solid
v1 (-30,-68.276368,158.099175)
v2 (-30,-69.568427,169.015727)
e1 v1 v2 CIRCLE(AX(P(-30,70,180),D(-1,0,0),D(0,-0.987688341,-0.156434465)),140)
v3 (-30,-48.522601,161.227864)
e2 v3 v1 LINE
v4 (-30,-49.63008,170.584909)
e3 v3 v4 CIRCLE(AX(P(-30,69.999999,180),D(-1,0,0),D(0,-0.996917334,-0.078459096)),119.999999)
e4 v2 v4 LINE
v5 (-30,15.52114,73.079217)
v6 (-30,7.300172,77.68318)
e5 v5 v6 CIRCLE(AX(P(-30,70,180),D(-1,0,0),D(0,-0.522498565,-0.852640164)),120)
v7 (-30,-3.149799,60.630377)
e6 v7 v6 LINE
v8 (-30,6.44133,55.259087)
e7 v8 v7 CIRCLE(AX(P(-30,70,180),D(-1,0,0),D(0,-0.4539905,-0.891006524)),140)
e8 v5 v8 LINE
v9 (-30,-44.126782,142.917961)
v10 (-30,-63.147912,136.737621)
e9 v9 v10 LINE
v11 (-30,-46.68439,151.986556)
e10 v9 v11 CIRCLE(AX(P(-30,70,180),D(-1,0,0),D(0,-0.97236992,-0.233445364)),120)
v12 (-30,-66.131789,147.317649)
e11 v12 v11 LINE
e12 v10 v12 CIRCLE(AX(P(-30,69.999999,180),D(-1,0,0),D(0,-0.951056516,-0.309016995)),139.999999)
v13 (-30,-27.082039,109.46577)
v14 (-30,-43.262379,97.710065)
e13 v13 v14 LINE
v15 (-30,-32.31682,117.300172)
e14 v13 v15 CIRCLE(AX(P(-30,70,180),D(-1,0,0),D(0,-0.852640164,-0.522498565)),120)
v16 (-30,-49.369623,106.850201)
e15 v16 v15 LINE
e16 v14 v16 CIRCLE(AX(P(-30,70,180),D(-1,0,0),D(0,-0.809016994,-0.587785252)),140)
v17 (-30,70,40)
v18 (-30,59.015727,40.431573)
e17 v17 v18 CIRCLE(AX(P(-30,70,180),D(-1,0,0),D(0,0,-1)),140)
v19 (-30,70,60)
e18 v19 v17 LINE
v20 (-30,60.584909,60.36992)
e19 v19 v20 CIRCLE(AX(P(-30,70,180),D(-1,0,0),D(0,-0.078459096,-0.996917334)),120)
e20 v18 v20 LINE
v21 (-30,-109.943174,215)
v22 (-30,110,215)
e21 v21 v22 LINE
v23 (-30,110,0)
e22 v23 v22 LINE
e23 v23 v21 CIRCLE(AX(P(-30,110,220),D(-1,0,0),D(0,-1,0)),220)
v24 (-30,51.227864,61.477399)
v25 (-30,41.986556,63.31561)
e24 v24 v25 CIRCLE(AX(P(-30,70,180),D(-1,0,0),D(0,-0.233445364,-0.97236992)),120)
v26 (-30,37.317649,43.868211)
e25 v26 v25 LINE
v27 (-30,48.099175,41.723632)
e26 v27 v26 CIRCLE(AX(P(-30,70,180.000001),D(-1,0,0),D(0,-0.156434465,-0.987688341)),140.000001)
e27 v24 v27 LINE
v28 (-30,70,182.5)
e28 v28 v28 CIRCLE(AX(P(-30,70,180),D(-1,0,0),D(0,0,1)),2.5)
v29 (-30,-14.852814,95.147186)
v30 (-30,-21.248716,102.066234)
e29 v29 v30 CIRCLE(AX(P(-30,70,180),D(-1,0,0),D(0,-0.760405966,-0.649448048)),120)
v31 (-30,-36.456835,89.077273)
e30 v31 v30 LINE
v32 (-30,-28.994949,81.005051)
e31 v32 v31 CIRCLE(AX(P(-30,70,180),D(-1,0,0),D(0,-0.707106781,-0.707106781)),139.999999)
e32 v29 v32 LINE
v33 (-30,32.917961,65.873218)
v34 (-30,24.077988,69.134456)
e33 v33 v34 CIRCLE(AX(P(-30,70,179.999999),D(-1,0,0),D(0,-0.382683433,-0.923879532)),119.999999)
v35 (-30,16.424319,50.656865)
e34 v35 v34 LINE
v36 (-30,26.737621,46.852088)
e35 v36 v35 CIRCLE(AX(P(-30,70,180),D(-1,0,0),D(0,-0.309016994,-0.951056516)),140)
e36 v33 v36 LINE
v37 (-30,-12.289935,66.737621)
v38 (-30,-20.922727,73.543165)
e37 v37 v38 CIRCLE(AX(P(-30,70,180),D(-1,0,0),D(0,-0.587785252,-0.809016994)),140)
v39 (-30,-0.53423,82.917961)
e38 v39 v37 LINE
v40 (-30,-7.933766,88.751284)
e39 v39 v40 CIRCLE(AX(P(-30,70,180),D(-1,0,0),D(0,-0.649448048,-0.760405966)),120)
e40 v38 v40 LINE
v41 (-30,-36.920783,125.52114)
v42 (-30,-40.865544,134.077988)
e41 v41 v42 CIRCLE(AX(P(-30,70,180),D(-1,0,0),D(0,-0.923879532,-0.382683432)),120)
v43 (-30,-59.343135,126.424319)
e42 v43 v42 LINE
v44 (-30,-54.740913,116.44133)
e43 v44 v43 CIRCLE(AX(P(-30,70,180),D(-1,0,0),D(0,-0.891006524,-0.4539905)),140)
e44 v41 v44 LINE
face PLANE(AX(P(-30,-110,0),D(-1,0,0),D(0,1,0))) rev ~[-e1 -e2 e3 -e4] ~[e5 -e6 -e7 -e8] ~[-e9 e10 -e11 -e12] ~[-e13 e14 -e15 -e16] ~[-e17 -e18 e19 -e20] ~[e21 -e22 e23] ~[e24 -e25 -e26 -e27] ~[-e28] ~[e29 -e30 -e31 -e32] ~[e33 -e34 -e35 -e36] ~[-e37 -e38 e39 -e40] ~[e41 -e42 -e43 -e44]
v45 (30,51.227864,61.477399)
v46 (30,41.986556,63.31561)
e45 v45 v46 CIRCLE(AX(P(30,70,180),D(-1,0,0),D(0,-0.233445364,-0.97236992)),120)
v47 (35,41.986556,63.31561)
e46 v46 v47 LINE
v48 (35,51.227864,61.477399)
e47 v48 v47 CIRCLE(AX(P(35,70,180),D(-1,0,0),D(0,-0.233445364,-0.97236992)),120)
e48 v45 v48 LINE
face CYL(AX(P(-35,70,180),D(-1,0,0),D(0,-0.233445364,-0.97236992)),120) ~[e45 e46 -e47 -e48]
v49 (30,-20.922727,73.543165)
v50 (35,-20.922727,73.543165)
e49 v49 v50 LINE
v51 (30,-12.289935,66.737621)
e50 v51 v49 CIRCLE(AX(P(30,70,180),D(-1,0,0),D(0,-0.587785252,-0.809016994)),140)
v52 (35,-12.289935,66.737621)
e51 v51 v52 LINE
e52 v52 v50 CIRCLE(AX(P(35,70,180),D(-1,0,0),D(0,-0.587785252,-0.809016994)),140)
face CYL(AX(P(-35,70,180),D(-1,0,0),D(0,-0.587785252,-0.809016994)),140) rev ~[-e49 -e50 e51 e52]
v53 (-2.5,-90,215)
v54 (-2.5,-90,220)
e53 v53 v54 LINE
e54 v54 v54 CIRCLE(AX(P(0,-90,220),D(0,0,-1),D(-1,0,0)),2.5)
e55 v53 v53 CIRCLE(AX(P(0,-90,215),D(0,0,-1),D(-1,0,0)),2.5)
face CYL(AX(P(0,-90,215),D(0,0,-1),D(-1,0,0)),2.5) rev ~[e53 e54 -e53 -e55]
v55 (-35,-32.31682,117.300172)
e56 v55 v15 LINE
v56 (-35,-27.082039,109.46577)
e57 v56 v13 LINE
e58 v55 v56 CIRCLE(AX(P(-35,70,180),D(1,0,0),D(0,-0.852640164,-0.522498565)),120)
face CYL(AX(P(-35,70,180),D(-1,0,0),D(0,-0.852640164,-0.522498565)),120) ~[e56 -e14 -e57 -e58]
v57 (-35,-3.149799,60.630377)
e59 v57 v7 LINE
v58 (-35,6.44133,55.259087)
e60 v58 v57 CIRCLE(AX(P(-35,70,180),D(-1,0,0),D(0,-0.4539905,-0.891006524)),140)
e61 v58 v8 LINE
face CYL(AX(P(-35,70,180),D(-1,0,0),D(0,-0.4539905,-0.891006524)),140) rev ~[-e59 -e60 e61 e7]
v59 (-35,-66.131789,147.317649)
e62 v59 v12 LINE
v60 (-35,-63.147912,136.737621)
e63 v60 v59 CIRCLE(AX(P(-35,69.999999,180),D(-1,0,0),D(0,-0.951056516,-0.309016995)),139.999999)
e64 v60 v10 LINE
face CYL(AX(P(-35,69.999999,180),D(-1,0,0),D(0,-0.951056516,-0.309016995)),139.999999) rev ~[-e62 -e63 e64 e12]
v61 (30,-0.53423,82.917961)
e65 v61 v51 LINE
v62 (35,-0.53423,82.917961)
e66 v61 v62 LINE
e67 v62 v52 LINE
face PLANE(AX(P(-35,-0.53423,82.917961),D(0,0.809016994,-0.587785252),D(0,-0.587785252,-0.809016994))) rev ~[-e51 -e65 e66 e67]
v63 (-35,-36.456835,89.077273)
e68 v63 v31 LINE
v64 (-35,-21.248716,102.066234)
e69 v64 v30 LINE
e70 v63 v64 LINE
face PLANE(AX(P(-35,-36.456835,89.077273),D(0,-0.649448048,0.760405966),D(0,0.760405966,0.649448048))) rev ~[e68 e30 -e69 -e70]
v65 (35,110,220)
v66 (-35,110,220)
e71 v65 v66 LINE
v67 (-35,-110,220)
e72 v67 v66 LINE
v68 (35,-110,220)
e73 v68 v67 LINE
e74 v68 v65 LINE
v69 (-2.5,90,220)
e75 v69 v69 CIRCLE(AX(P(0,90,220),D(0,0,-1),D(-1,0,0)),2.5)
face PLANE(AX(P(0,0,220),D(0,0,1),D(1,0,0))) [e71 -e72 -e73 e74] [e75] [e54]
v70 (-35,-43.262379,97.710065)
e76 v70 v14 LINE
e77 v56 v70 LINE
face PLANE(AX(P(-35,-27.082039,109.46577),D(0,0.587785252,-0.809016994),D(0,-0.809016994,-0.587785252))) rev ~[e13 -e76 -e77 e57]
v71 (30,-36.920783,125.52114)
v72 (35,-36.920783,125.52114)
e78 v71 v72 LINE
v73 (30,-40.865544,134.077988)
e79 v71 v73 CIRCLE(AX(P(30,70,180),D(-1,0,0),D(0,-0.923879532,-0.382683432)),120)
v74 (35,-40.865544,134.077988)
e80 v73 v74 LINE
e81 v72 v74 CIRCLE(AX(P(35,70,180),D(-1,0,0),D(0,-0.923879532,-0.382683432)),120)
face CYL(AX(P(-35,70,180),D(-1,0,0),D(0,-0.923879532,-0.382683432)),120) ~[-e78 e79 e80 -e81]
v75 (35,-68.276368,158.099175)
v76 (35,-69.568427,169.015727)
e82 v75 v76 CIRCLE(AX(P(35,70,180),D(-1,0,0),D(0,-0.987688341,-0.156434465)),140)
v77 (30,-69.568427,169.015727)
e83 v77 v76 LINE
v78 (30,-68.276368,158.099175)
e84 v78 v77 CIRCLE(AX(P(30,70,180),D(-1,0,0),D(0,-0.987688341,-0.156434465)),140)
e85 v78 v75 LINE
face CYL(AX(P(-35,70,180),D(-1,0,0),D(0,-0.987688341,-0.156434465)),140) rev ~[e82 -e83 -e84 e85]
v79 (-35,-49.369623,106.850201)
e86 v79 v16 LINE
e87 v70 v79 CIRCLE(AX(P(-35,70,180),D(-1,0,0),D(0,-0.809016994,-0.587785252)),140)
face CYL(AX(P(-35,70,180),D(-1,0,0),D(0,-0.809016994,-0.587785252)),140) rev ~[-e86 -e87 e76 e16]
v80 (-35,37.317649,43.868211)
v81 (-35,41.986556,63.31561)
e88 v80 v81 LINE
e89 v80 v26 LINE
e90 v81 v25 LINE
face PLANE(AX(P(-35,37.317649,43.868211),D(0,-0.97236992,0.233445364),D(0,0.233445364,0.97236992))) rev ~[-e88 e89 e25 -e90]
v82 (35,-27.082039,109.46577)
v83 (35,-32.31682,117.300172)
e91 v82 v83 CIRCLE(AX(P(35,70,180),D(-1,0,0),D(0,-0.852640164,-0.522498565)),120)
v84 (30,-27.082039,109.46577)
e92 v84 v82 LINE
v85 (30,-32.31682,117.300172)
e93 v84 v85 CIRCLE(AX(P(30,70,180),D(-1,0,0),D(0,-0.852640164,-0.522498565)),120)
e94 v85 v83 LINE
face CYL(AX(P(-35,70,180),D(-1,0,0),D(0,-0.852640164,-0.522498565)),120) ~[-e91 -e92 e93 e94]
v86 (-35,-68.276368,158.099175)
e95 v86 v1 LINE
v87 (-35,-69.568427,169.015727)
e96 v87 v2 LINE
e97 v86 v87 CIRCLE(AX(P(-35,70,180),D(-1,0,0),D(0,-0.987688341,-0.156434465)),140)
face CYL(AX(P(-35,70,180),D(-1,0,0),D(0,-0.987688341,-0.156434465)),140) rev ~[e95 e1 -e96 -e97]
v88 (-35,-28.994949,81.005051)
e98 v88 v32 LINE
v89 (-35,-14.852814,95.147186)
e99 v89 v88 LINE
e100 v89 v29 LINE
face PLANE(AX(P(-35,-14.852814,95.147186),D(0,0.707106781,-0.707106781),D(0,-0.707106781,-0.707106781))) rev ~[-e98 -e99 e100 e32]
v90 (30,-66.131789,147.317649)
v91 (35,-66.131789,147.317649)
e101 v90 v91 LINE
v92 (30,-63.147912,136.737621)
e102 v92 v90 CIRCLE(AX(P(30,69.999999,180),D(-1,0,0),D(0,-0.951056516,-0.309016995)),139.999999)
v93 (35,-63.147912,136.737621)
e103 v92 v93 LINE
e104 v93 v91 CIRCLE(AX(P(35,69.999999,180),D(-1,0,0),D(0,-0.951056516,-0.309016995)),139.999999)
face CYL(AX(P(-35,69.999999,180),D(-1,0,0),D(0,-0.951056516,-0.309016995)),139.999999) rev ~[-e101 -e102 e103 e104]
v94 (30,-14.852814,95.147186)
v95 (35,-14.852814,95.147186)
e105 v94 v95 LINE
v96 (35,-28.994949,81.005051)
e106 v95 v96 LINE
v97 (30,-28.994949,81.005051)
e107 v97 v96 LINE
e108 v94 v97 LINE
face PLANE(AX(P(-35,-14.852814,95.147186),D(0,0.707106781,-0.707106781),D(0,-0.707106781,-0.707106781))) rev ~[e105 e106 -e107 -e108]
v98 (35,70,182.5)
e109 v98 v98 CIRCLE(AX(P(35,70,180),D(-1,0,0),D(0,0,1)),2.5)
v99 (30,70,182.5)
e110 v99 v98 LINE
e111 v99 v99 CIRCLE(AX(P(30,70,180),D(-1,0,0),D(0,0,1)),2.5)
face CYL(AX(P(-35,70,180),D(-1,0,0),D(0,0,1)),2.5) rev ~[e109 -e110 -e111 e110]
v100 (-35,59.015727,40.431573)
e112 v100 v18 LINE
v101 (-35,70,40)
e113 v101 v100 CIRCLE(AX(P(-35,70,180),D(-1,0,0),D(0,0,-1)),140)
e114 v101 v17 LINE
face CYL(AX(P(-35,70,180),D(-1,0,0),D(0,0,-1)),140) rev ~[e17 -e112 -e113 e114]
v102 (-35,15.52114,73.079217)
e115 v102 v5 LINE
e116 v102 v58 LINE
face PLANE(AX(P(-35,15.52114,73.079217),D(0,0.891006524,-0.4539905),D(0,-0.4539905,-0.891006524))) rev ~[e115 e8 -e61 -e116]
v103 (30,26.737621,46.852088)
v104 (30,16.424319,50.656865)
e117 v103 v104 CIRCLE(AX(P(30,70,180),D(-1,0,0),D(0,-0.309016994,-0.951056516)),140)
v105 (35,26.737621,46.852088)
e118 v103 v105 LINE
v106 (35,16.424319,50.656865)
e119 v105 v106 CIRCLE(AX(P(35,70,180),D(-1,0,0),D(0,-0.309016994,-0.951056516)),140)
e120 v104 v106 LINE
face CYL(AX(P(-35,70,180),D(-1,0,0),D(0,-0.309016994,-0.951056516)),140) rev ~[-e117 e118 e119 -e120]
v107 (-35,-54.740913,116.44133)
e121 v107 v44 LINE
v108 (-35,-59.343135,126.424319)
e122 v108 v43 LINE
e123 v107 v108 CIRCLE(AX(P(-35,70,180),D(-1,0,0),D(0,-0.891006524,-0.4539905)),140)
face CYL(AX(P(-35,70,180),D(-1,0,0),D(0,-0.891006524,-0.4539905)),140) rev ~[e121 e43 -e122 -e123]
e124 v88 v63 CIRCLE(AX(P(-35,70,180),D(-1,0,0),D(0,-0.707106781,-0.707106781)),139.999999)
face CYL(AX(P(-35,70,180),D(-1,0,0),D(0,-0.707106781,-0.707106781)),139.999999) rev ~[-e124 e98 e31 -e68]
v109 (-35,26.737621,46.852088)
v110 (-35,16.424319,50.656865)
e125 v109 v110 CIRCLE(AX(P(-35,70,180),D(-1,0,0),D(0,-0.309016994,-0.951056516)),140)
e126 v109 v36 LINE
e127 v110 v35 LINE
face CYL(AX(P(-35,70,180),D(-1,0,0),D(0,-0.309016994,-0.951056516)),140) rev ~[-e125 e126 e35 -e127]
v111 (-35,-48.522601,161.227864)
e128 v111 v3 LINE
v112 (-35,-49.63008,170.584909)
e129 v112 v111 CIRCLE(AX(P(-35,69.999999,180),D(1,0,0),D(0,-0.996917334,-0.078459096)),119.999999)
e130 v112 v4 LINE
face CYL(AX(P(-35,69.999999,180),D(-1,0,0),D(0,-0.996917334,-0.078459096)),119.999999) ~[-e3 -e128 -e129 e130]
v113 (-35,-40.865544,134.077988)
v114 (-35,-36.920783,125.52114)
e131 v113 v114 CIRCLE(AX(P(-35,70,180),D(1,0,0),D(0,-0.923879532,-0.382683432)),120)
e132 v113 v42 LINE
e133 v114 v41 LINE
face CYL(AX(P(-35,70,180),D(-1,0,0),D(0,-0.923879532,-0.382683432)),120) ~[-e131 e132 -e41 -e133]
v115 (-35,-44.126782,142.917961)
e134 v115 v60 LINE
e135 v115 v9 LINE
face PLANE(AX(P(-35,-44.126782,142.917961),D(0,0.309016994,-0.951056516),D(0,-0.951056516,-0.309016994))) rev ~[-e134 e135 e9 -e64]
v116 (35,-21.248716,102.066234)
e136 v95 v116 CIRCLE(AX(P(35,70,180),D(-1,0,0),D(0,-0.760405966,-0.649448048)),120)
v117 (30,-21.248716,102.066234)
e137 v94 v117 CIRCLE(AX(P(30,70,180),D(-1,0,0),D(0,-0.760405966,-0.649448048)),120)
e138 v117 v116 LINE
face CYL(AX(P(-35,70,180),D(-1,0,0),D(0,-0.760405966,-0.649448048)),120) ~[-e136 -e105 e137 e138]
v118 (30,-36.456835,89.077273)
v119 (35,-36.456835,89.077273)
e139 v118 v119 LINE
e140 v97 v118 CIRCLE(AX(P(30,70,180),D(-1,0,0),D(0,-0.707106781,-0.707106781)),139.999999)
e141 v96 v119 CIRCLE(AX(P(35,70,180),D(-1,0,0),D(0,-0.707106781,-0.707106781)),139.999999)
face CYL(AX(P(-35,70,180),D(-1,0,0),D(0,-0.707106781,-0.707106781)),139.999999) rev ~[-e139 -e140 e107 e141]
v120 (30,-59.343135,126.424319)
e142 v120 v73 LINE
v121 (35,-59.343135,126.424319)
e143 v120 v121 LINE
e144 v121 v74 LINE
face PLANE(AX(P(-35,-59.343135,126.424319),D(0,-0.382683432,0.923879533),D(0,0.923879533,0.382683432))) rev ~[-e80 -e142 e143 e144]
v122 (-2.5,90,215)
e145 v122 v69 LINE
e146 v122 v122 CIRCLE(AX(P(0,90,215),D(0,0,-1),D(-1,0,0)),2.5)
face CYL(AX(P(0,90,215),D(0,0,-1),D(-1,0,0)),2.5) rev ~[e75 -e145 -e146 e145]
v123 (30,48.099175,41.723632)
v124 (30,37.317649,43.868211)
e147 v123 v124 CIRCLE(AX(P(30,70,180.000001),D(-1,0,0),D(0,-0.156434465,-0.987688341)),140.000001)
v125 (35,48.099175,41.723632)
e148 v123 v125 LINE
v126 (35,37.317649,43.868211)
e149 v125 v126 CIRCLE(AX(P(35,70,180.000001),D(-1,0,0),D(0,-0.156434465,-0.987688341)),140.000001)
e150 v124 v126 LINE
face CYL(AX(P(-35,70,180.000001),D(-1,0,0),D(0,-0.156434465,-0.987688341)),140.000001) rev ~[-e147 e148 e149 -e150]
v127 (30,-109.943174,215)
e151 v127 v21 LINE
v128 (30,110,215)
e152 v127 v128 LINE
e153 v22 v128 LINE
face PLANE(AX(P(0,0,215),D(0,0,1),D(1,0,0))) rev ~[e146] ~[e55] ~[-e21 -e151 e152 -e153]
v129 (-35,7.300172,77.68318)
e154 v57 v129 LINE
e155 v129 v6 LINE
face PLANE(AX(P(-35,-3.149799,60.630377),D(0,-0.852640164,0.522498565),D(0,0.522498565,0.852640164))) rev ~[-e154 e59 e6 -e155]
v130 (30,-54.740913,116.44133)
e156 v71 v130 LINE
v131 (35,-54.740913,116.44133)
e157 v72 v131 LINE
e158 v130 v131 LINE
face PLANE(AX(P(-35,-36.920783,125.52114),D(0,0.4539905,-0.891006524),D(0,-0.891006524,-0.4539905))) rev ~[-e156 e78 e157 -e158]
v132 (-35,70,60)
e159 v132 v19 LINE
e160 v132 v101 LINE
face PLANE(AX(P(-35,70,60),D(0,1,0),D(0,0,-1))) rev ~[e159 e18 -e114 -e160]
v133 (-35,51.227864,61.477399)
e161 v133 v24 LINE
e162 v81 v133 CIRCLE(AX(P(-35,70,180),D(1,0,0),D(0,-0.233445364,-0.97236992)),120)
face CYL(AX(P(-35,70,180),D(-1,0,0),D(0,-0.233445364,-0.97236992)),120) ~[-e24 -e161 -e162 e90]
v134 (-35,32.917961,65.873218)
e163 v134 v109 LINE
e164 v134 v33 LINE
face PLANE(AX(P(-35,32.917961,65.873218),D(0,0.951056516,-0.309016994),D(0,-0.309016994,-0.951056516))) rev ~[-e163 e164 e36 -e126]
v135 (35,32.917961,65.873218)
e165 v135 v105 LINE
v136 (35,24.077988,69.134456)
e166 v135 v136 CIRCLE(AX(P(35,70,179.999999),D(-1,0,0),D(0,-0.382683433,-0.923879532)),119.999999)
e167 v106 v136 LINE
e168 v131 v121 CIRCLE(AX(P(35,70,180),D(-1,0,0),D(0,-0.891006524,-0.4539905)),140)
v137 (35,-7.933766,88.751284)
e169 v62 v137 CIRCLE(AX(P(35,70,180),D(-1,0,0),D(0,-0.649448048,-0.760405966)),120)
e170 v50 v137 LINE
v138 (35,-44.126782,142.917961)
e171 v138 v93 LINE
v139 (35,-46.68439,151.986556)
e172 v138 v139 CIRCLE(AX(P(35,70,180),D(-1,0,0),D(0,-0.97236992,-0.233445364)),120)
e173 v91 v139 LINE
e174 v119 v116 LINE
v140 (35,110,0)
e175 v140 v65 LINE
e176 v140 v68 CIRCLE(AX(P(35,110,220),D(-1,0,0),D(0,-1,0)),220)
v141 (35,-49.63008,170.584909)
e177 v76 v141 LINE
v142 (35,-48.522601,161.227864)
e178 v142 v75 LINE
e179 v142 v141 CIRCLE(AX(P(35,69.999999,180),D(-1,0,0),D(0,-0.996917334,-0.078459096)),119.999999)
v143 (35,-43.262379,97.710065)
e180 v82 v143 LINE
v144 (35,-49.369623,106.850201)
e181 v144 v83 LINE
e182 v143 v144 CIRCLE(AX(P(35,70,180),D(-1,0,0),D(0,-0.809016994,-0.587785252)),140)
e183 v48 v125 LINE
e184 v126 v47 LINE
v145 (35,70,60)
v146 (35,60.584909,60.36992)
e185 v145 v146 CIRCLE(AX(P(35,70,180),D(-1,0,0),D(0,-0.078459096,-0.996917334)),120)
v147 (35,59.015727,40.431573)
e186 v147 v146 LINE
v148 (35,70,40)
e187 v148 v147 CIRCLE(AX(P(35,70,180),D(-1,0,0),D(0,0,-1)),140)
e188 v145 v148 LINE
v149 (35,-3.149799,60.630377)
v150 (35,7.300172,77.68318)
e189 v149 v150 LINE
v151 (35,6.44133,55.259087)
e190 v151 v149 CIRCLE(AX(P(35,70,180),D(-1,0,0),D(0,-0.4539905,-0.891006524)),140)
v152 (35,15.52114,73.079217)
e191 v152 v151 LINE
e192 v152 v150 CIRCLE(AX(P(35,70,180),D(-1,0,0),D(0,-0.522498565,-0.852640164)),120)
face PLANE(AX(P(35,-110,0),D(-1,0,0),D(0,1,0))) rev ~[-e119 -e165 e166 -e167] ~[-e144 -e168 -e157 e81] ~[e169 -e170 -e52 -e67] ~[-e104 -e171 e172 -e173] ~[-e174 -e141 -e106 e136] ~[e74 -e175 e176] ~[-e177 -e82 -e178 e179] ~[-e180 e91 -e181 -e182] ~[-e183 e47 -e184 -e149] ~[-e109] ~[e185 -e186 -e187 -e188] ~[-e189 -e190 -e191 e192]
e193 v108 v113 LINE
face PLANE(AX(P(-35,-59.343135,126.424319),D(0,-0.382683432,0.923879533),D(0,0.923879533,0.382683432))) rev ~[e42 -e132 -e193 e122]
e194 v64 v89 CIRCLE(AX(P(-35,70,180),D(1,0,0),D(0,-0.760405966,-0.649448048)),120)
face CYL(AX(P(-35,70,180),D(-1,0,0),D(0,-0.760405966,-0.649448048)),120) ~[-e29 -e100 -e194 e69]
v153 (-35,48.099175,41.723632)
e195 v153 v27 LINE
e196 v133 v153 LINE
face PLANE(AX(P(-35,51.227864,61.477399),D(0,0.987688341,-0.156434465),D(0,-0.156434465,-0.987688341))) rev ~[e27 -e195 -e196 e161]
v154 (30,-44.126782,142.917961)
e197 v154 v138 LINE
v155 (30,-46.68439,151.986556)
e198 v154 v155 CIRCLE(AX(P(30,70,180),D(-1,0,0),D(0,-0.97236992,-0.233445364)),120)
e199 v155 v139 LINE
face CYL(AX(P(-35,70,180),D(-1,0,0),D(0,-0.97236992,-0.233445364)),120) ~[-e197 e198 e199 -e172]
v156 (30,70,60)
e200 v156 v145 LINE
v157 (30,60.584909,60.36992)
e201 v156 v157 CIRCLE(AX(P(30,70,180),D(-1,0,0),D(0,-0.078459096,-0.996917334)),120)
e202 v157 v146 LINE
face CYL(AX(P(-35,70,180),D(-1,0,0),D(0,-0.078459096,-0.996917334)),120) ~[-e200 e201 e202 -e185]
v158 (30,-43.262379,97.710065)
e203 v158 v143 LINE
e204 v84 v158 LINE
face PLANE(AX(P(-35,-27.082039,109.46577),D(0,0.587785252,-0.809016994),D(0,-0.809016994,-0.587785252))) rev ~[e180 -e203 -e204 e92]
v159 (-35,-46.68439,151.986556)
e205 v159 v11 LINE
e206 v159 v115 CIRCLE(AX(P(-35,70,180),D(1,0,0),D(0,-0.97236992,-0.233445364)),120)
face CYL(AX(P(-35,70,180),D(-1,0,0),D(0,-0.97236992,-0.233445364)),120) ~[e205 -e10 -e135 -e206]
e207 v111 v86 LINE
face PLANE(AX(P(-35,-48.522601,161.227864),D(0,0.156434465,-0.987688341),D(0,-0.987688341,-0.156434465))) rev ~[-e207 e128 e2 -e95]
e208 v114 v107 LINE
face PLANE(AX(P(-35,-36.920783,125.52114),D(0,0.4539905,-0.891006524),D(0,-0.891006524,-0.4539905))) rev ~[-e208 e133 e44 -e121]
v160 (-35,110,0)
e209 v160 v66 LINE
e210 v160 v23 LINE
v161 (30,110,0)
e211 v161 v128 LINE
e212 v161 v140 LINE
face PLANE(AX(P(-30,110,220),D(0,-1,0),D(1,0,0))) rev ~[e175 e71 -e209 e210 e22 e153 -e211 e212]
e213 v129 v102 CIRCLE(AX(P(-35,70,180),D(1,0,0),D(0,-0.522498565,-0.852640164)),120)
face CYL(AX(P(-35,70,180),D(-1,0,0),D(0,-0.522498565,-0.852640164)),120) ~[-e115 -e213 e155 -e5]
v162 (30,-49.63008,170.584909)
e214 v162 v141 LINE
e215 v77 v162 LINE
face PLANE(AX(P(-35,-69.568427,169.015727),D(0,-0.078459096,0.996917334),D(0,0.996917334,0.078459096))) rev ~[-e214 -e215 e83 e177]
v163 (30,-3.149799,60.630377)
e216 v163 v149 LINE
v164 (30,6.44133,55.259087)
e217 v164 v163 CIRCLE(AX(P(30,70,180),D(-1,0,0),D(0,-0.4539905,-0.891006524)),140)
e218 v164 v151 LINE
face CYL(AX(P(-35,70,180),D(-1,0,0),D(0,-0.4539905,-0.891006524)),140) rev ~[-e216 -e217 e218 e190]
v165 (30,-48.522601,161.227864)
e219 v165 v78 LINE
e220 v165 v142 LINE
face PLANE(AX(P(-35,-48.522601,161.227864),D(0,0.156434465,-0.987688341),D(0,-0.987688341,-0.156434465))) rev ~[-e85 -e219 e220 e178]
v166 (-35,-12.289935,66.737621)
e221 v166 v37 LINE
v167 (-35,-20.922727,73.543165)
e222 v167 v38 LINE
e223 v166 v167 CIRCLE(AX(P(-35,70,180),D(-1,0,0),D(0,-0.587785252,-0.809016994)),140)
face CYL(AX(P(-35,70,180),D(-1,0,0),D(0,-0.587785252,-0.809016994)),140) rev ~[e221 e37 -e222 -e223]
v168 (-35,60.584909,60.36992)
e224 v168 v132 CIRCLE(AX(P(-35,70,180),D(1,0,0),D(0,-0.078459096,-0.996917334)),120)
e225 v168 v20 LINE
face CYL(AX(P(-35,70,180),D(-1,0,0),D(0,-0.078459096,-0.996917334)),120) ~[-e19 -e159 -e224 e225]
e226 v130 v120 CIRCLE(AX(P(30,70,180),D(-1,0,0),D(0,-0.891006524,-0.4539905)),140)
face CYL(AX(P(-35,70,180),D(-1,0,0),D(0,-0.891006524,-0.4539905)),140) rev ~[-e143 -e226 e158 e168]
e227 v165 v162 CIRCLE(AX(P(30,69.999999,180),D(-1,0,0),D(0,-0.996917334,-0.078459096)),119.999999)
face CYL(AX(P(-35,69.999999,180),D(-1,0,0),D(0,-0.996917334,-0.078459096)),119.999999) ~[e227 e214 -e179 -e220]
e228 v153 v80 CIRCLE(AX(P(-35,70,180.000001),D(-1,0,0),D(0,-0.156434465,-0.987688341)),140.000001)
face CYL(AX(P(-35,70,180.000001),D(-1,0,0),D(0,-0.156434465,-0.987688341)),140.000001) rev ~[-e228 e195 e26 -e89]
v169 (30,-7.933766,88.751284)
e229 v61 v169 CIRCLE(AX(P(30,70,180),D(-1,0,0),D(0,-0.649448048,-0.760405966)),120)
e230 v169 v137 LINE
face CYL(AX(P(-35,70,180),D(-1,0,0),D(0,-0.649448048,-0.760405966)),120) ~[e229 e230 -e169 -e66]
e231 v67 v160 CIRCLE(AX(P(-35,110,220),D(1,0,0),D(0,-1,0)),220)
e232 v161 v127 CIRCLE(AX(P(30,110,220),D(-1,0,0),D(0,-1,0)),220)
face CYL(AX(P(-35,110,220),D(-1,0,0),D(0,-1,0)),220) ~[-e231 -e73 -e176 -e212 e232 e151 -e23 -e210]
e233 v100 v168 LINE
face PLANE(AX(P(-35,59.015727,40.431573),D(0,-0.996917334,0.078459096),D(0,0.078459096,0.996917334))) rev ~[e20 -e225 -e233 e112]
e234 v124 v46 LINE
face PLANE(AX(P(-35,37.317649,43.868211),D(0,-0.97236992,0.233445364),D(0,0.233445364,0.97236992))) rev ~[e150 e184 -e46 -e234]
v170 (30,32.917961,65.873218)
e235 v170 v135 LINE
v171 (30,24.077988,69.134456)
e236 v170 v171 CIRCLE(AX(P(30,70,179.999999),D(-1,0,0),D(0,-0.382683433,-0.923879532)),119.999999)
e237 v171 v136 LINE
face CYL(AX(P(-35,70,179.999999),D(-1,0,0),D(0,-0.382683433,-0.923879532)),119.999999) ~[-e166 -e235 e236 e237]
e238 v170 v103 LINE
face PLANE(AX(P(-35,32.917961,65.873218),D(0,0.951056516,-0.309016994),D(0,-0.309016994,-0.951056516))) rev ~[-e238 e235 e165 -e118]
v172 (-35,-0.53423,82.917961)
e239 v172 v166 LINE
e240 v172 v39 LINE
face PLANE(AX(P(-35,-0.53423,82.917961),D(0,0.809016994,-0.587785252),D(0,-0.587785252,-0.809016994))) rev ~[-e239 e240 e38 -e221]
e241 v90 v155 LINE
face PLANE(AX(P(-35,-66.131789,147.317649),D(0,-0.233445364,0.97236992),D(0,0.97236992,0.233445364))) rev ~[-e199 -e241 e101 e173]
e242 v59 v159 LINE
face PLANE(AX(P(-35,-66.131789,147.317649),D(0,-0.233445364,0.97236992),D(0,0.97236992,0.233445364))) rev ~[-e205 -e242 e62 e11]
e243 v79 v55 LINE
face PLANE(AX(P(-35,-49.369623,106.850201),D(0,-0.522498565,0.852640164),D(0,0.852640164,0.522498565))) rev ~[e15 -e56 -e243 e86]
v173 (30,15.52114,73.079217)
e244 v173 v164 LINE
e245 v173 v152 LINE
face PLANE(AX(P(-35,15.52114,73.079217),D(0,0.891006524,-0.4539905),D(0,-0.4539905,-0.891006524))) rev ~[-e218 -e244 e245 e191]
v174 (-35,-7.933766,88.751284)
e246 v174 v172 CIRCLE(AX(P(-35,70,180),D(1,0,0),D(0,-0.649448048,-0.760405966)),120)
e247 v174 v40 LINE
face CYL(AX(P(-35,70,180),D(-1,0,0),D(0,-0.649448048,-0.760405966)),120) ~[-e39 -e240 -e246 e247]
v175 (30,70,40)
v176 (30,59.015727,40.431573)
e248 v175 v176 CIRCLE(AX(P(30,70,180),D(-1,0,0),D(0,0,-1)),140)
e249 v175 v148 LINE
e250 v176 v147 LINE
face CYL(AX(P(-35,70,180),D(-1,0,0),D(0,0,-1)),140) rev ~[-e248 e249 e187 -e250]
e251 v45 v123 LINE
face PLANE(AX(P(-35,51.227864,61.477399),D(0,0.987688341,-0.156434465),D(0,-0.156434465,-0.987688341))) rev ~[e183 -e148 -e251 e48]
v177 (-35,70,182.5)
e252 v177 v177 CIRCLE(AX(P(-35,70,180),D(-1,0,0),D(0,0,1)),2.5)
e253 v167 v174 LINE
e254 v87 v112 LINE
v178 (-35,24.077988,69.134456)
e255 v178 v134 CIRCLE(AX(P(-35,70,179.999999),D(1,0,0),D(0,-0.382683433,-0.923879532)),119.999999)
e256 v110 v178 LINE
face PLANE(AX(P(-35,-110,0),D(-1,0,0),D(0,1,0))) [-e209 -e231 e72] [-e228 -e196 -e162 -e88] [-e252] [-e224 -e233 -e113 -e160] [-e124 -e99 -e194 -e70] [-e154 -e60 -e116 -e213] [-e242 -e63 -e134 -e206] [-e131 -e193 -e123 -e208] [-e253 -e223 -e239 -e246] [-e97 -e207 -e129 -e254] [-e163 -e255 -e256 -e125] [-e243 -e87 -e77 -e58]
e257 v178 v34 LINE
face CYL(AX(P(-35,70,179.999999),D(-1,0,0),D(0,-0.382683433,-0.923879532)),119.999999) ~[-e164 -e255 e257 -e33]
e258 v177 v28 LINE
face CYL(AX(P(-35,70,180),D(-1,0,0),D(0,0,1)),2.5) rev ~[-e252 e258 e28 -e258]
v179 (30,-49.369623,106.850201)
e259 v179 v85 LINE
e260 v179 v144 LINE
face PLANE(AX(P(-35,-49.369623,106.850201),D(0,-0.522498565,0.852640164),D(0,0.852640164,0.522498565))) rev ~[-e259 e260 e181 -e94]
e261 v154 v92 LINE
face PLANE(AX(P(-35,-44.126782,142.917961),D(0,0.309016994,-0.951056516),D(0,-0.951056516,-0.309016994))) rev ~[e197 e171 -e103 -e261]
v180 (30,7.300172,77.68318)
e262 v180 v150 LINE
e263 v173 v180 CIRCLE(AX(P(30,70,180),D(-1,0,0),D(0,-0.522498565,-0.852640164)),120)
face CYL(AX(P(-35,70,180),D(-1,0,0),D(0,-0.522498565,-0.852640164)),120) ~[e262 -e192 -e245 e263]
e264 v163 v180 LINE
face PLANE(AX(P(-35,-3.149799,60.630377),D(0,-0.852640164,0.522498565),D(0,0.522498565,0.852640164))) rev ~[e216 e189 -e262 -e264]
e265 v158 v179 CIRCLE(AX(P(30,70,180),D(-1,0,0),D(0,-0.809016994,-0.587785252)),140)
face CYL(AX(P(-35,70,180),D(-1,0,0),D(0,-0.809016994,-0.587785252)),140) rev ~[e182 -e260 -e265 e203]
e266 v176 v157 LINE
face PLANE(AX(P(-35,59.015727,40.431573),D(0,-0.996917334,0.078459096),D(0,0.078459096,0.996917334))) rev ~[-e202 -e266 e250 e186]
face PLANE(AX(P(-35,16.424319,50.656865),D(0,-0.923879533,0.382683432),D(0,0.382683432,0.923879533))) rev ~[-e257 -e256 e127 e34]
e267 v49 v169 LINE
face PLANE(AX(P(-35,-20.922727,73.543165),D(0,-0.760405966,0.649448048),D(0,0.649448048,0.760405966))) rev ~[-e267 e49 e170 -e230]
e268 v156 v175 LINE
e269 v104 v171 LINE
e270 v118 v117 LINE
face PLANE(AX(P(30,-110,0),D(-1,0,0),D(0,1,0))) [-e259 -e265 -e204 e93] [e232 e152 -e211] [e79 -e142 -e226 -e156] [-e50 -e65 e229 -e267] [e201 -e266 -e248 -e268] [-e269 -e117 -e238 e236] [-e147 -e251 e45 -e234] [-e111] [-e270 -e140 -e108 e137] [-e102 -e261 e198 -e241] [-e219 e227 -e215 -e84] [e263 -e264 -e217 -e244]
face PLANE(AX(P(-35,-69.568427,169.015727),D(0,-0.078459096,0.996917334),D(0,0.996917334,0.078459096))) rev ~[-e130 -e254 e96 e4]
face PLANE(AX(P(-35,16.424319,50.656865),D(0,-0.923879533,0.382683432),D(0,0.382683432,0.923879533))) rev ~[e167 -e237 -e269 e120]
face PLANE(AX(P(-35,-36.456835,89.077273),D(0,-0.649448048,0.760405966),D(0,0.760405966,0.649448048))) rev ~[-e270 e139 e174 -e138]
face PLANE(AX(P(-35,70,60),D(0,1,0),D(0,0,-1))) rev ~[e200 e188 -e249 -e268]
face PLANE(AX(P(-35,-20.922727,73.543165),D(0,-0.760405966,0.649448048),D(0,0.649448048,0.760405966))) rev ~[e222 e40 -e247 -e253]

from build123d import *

# Parameters (mm, degrees)
SKETCH1_W             = 5
SKETCH1_H             = 220
BOSS_EXTRUDE1_DEPTH   = 220
BOSS_EXTRUDE1_2_DEPTH = 220
SKETCH2_W             = 60
SKETCH2_H             = 220
BOSS_EXTRUDE2_DEPTH   = 5
CUT_EXTRUDE1_DEPTH    = 110
SKETCH7_R             = 2.5
CUT_EXTRUDE6_DEPTH    = 134
SKETCH9_R             = 2.5
CUT_EXTRUDE8_DEPTH    = 134


with BuildPart() as part:
    # Sketch1 → Boss-Extrude1 (new body)
    with BuildSketch(Plane.XY):
        with Locations((32.5, 0)):
            Rectangle(SKETCH1_W, SKETCH1_H)
    extrude(amount=BOSS_EXTRUDE1_DEPTH)



with BuildPart() as body_2:
    # Sketch1 → Boss-Extrude1 2 (new body)
    with BuildSketch(Plane.XY):
        with Locations((-32.5, 0)):
            Rectangle(SKETCH1_W, SKETCH1_H)
    extrude(amount=BOSS_EXTRUDE1_2_DEPTH)


with BuildPart() as part_1:
    add(part.part)

    add(body_2.part)  # Boss-Extrude2 merges body 2
    # Sketch2 → Boss-Extrude2 (add)
    with BuildSketch(Plane.XY.offset(220)):
        Rectangle(SKETCH2_W, SKETCH2_H)
    extrude(amount=-BOSS_EXTRUDE2_DEPTH)

    # Sketch3 → Cut-Extrude1 (cut)
    with BuildSketch(Plane.ZY.offset(35)):
        with BuildLine():
            Line((0, 110), (0, -110))
            Line((0, -110), (220, -110))
            ThreePointArc((220, -110), (64.436508139, -45.563491861), (0, 110))
        make_face()
    extrude(amount=-CUT_EXTRUDE1_DEPTH, mode=Mode.SUBTRACT)

    # Sketch7 → Cut-Extrude6 (cut)
    with BuildSketch(Plane(origin=(0, 0, 215), x_dir=(-1, 0, 0), z_dir=(0, 0, -1))):
        with Locations((0, 90)):
            Circle(SKETCH7_R)
        with Locations((0, -90)):
            Circle(SKETCH7_R)
    extrude(amount=-CUT_EXTRUDE6_DEPTH, mode=Mode.SUBTRACT)

    # Sketch9 → Cut-Extrude8 (cut)
    with BuildSketch(Plane.ZY.offset(35)):
        with BuildLine():
            ThreePointArc((60.369919952, 60.584908513), (60.092515651, 65.288822109), (60, 70))
            Line((60, 70), (40, 70))
            ThreePointArc((40, 70), (40.107934926, 64.503625794), (40.431573277, 59.015726598))
            Line((40.431573277, 59.015726598), (60.369919952, 60.584908513))
        make_face()
        with BuildLine():
            ThreePointArc((63.315609552, 41.986556337), (62.305766352, 46.589161358), (61.477399129, 51.227864195))
            Line((61.477399129, 51.227864195), (41.723632317, 48.099174894))
            ThreePointArc((41.723632317, 48.099174894), (42.690060744, 42.687354918), (43.868211144, 37.31764906))
            Line((43.868211144, 37.31764906), (63.315609552, 41.986556337))
        make_face()
        with BuildLine():
            ThreePointArc((69.134456099, 24.077988116), (67.417039689, 28.465953151), (65.873218045, 32.917960675))
            Line((65.873218045, 32.917960675), (46.852087719, 26.737620788))
            ThreePointArc((46.852087719, 26.737620788), (48.653212971, 21.543612009), (50.656865448, 16.424319469))
            Line((50.656865448, 16.424319469), (69.134456099, 24.077988116))
        make_face()
        with BuildLine():
            ThreePointArc((77.683180278, 7.300172234), (75.300479151, 11.36545102), (73.079217097, 15.521140031))
            Line((73.079217097, 15.521140031), (55.259086614, 6.441330036))
            ThreePointArc((55.259086614, 6.441330036), (57.85055901, 1.59302619), (60.63037699, -3.14979906))
            Line((60.63037699, -3.14979906), (77.683180278, 7.300172234))
        make_face()
        with BuildLine():
            ThreePointArc((88.751284128, -7.9337658), (85.761968294, -4.291273917), (82.917960675, -0.534230275))
            Line((82.917960675, -0.534230275), (66.737620788, -12.289935321))
            ThreePointArc((66.737620788, -12.289935321), (70.055629677, -16.673152903), (73.543164816, -20.922726766))
            Line((73.543164816, -20.922726766), (88.751284128, -7.9337658))
        make_face()
        with BuildLine():
            ThreePointArc((102.0662342, -21.248715872), (98.543910536, -18.118701132), (95.147186258, -14.852813742))
            Line((95.147186258, -14.852813742), (81.005050634, -28.994949366))
            ThreePointArc((81.005050634, -28.994949366), (84.967895625, -32.805151321), (89.077273234, -36.456835184))
            Line((89.077273234, -36.456835184), (102.0662342, -21.248715872))
        make_face()
        with BuildLine():
            ThreePointArc((117.300172234, -32.316819722), (113.331572038, -29.776353476), (109.465769725, -27.082039325))
            Line((109.465769725, -27.082039325), (97.710064679, -43.262379212))
            ThreePointArc((97.710064679, -43.262379212), (102.220167377, -46.405745722), (106.85020094, -49.36962301))
            Line((106.85020094, -49.36962301), (117.300172234, -32.316819722))
        make_face()
        with BuildLine():
            ThreePointArc((134.077988116, -40.865543901), (129.760831496, -38.977180859), (125.521140031, -36.920782903))
            Line((125.521140031, -36.920782903), (116.441330036, -54.740913386))
            ThreePointArc((116.441330036, -54.740913386), (121.387636745, -57.140044336), (126.424319469, -59.343134552))
            Line((126.424319469, -59.343134552), (134.077988116, -40.865543901))
        make_face()
        with BuildLine():
            ThreePointArc((151.986556337, -46.684390448), (147.427146016, -45.494628374), (142.917960675, -44.126781955))
            Line((142.917960675, -44.126781955), (136.737620788, -63.147912281))
            ThreePointArc((136.737620788, -63.147912281), (141.998337019, -64.743733104), (147.31764906, -66.131788856))
            Line((147.31764906, -66.131788856), (151.986556337, -46.684390448))
        make_face()
        with BuildLine():
            ThreePointArc((170.584908513, -49.630080048), (165.895512305, -49.168214835), (161.227864195, -48.522600871))
            Line((161.227864195, -48.522600871), (158.099174894, -68.276367683))
            ThreePointArc((158.099174894, -68.276367683), (163.544764356, -69.029583974), (169.015726598, -69.568426723))
            Line((169.015726598, -69.568426723), (170.584908513, -49.630080048))
        make_face()
        with Locations((180, 70)):
            Circle(SKETCH9_R)
    extrude(amount=-CUT_EXTRUDE8_DEPTH, mode=Mode.SUBTRACT)


solid = part_1.part
